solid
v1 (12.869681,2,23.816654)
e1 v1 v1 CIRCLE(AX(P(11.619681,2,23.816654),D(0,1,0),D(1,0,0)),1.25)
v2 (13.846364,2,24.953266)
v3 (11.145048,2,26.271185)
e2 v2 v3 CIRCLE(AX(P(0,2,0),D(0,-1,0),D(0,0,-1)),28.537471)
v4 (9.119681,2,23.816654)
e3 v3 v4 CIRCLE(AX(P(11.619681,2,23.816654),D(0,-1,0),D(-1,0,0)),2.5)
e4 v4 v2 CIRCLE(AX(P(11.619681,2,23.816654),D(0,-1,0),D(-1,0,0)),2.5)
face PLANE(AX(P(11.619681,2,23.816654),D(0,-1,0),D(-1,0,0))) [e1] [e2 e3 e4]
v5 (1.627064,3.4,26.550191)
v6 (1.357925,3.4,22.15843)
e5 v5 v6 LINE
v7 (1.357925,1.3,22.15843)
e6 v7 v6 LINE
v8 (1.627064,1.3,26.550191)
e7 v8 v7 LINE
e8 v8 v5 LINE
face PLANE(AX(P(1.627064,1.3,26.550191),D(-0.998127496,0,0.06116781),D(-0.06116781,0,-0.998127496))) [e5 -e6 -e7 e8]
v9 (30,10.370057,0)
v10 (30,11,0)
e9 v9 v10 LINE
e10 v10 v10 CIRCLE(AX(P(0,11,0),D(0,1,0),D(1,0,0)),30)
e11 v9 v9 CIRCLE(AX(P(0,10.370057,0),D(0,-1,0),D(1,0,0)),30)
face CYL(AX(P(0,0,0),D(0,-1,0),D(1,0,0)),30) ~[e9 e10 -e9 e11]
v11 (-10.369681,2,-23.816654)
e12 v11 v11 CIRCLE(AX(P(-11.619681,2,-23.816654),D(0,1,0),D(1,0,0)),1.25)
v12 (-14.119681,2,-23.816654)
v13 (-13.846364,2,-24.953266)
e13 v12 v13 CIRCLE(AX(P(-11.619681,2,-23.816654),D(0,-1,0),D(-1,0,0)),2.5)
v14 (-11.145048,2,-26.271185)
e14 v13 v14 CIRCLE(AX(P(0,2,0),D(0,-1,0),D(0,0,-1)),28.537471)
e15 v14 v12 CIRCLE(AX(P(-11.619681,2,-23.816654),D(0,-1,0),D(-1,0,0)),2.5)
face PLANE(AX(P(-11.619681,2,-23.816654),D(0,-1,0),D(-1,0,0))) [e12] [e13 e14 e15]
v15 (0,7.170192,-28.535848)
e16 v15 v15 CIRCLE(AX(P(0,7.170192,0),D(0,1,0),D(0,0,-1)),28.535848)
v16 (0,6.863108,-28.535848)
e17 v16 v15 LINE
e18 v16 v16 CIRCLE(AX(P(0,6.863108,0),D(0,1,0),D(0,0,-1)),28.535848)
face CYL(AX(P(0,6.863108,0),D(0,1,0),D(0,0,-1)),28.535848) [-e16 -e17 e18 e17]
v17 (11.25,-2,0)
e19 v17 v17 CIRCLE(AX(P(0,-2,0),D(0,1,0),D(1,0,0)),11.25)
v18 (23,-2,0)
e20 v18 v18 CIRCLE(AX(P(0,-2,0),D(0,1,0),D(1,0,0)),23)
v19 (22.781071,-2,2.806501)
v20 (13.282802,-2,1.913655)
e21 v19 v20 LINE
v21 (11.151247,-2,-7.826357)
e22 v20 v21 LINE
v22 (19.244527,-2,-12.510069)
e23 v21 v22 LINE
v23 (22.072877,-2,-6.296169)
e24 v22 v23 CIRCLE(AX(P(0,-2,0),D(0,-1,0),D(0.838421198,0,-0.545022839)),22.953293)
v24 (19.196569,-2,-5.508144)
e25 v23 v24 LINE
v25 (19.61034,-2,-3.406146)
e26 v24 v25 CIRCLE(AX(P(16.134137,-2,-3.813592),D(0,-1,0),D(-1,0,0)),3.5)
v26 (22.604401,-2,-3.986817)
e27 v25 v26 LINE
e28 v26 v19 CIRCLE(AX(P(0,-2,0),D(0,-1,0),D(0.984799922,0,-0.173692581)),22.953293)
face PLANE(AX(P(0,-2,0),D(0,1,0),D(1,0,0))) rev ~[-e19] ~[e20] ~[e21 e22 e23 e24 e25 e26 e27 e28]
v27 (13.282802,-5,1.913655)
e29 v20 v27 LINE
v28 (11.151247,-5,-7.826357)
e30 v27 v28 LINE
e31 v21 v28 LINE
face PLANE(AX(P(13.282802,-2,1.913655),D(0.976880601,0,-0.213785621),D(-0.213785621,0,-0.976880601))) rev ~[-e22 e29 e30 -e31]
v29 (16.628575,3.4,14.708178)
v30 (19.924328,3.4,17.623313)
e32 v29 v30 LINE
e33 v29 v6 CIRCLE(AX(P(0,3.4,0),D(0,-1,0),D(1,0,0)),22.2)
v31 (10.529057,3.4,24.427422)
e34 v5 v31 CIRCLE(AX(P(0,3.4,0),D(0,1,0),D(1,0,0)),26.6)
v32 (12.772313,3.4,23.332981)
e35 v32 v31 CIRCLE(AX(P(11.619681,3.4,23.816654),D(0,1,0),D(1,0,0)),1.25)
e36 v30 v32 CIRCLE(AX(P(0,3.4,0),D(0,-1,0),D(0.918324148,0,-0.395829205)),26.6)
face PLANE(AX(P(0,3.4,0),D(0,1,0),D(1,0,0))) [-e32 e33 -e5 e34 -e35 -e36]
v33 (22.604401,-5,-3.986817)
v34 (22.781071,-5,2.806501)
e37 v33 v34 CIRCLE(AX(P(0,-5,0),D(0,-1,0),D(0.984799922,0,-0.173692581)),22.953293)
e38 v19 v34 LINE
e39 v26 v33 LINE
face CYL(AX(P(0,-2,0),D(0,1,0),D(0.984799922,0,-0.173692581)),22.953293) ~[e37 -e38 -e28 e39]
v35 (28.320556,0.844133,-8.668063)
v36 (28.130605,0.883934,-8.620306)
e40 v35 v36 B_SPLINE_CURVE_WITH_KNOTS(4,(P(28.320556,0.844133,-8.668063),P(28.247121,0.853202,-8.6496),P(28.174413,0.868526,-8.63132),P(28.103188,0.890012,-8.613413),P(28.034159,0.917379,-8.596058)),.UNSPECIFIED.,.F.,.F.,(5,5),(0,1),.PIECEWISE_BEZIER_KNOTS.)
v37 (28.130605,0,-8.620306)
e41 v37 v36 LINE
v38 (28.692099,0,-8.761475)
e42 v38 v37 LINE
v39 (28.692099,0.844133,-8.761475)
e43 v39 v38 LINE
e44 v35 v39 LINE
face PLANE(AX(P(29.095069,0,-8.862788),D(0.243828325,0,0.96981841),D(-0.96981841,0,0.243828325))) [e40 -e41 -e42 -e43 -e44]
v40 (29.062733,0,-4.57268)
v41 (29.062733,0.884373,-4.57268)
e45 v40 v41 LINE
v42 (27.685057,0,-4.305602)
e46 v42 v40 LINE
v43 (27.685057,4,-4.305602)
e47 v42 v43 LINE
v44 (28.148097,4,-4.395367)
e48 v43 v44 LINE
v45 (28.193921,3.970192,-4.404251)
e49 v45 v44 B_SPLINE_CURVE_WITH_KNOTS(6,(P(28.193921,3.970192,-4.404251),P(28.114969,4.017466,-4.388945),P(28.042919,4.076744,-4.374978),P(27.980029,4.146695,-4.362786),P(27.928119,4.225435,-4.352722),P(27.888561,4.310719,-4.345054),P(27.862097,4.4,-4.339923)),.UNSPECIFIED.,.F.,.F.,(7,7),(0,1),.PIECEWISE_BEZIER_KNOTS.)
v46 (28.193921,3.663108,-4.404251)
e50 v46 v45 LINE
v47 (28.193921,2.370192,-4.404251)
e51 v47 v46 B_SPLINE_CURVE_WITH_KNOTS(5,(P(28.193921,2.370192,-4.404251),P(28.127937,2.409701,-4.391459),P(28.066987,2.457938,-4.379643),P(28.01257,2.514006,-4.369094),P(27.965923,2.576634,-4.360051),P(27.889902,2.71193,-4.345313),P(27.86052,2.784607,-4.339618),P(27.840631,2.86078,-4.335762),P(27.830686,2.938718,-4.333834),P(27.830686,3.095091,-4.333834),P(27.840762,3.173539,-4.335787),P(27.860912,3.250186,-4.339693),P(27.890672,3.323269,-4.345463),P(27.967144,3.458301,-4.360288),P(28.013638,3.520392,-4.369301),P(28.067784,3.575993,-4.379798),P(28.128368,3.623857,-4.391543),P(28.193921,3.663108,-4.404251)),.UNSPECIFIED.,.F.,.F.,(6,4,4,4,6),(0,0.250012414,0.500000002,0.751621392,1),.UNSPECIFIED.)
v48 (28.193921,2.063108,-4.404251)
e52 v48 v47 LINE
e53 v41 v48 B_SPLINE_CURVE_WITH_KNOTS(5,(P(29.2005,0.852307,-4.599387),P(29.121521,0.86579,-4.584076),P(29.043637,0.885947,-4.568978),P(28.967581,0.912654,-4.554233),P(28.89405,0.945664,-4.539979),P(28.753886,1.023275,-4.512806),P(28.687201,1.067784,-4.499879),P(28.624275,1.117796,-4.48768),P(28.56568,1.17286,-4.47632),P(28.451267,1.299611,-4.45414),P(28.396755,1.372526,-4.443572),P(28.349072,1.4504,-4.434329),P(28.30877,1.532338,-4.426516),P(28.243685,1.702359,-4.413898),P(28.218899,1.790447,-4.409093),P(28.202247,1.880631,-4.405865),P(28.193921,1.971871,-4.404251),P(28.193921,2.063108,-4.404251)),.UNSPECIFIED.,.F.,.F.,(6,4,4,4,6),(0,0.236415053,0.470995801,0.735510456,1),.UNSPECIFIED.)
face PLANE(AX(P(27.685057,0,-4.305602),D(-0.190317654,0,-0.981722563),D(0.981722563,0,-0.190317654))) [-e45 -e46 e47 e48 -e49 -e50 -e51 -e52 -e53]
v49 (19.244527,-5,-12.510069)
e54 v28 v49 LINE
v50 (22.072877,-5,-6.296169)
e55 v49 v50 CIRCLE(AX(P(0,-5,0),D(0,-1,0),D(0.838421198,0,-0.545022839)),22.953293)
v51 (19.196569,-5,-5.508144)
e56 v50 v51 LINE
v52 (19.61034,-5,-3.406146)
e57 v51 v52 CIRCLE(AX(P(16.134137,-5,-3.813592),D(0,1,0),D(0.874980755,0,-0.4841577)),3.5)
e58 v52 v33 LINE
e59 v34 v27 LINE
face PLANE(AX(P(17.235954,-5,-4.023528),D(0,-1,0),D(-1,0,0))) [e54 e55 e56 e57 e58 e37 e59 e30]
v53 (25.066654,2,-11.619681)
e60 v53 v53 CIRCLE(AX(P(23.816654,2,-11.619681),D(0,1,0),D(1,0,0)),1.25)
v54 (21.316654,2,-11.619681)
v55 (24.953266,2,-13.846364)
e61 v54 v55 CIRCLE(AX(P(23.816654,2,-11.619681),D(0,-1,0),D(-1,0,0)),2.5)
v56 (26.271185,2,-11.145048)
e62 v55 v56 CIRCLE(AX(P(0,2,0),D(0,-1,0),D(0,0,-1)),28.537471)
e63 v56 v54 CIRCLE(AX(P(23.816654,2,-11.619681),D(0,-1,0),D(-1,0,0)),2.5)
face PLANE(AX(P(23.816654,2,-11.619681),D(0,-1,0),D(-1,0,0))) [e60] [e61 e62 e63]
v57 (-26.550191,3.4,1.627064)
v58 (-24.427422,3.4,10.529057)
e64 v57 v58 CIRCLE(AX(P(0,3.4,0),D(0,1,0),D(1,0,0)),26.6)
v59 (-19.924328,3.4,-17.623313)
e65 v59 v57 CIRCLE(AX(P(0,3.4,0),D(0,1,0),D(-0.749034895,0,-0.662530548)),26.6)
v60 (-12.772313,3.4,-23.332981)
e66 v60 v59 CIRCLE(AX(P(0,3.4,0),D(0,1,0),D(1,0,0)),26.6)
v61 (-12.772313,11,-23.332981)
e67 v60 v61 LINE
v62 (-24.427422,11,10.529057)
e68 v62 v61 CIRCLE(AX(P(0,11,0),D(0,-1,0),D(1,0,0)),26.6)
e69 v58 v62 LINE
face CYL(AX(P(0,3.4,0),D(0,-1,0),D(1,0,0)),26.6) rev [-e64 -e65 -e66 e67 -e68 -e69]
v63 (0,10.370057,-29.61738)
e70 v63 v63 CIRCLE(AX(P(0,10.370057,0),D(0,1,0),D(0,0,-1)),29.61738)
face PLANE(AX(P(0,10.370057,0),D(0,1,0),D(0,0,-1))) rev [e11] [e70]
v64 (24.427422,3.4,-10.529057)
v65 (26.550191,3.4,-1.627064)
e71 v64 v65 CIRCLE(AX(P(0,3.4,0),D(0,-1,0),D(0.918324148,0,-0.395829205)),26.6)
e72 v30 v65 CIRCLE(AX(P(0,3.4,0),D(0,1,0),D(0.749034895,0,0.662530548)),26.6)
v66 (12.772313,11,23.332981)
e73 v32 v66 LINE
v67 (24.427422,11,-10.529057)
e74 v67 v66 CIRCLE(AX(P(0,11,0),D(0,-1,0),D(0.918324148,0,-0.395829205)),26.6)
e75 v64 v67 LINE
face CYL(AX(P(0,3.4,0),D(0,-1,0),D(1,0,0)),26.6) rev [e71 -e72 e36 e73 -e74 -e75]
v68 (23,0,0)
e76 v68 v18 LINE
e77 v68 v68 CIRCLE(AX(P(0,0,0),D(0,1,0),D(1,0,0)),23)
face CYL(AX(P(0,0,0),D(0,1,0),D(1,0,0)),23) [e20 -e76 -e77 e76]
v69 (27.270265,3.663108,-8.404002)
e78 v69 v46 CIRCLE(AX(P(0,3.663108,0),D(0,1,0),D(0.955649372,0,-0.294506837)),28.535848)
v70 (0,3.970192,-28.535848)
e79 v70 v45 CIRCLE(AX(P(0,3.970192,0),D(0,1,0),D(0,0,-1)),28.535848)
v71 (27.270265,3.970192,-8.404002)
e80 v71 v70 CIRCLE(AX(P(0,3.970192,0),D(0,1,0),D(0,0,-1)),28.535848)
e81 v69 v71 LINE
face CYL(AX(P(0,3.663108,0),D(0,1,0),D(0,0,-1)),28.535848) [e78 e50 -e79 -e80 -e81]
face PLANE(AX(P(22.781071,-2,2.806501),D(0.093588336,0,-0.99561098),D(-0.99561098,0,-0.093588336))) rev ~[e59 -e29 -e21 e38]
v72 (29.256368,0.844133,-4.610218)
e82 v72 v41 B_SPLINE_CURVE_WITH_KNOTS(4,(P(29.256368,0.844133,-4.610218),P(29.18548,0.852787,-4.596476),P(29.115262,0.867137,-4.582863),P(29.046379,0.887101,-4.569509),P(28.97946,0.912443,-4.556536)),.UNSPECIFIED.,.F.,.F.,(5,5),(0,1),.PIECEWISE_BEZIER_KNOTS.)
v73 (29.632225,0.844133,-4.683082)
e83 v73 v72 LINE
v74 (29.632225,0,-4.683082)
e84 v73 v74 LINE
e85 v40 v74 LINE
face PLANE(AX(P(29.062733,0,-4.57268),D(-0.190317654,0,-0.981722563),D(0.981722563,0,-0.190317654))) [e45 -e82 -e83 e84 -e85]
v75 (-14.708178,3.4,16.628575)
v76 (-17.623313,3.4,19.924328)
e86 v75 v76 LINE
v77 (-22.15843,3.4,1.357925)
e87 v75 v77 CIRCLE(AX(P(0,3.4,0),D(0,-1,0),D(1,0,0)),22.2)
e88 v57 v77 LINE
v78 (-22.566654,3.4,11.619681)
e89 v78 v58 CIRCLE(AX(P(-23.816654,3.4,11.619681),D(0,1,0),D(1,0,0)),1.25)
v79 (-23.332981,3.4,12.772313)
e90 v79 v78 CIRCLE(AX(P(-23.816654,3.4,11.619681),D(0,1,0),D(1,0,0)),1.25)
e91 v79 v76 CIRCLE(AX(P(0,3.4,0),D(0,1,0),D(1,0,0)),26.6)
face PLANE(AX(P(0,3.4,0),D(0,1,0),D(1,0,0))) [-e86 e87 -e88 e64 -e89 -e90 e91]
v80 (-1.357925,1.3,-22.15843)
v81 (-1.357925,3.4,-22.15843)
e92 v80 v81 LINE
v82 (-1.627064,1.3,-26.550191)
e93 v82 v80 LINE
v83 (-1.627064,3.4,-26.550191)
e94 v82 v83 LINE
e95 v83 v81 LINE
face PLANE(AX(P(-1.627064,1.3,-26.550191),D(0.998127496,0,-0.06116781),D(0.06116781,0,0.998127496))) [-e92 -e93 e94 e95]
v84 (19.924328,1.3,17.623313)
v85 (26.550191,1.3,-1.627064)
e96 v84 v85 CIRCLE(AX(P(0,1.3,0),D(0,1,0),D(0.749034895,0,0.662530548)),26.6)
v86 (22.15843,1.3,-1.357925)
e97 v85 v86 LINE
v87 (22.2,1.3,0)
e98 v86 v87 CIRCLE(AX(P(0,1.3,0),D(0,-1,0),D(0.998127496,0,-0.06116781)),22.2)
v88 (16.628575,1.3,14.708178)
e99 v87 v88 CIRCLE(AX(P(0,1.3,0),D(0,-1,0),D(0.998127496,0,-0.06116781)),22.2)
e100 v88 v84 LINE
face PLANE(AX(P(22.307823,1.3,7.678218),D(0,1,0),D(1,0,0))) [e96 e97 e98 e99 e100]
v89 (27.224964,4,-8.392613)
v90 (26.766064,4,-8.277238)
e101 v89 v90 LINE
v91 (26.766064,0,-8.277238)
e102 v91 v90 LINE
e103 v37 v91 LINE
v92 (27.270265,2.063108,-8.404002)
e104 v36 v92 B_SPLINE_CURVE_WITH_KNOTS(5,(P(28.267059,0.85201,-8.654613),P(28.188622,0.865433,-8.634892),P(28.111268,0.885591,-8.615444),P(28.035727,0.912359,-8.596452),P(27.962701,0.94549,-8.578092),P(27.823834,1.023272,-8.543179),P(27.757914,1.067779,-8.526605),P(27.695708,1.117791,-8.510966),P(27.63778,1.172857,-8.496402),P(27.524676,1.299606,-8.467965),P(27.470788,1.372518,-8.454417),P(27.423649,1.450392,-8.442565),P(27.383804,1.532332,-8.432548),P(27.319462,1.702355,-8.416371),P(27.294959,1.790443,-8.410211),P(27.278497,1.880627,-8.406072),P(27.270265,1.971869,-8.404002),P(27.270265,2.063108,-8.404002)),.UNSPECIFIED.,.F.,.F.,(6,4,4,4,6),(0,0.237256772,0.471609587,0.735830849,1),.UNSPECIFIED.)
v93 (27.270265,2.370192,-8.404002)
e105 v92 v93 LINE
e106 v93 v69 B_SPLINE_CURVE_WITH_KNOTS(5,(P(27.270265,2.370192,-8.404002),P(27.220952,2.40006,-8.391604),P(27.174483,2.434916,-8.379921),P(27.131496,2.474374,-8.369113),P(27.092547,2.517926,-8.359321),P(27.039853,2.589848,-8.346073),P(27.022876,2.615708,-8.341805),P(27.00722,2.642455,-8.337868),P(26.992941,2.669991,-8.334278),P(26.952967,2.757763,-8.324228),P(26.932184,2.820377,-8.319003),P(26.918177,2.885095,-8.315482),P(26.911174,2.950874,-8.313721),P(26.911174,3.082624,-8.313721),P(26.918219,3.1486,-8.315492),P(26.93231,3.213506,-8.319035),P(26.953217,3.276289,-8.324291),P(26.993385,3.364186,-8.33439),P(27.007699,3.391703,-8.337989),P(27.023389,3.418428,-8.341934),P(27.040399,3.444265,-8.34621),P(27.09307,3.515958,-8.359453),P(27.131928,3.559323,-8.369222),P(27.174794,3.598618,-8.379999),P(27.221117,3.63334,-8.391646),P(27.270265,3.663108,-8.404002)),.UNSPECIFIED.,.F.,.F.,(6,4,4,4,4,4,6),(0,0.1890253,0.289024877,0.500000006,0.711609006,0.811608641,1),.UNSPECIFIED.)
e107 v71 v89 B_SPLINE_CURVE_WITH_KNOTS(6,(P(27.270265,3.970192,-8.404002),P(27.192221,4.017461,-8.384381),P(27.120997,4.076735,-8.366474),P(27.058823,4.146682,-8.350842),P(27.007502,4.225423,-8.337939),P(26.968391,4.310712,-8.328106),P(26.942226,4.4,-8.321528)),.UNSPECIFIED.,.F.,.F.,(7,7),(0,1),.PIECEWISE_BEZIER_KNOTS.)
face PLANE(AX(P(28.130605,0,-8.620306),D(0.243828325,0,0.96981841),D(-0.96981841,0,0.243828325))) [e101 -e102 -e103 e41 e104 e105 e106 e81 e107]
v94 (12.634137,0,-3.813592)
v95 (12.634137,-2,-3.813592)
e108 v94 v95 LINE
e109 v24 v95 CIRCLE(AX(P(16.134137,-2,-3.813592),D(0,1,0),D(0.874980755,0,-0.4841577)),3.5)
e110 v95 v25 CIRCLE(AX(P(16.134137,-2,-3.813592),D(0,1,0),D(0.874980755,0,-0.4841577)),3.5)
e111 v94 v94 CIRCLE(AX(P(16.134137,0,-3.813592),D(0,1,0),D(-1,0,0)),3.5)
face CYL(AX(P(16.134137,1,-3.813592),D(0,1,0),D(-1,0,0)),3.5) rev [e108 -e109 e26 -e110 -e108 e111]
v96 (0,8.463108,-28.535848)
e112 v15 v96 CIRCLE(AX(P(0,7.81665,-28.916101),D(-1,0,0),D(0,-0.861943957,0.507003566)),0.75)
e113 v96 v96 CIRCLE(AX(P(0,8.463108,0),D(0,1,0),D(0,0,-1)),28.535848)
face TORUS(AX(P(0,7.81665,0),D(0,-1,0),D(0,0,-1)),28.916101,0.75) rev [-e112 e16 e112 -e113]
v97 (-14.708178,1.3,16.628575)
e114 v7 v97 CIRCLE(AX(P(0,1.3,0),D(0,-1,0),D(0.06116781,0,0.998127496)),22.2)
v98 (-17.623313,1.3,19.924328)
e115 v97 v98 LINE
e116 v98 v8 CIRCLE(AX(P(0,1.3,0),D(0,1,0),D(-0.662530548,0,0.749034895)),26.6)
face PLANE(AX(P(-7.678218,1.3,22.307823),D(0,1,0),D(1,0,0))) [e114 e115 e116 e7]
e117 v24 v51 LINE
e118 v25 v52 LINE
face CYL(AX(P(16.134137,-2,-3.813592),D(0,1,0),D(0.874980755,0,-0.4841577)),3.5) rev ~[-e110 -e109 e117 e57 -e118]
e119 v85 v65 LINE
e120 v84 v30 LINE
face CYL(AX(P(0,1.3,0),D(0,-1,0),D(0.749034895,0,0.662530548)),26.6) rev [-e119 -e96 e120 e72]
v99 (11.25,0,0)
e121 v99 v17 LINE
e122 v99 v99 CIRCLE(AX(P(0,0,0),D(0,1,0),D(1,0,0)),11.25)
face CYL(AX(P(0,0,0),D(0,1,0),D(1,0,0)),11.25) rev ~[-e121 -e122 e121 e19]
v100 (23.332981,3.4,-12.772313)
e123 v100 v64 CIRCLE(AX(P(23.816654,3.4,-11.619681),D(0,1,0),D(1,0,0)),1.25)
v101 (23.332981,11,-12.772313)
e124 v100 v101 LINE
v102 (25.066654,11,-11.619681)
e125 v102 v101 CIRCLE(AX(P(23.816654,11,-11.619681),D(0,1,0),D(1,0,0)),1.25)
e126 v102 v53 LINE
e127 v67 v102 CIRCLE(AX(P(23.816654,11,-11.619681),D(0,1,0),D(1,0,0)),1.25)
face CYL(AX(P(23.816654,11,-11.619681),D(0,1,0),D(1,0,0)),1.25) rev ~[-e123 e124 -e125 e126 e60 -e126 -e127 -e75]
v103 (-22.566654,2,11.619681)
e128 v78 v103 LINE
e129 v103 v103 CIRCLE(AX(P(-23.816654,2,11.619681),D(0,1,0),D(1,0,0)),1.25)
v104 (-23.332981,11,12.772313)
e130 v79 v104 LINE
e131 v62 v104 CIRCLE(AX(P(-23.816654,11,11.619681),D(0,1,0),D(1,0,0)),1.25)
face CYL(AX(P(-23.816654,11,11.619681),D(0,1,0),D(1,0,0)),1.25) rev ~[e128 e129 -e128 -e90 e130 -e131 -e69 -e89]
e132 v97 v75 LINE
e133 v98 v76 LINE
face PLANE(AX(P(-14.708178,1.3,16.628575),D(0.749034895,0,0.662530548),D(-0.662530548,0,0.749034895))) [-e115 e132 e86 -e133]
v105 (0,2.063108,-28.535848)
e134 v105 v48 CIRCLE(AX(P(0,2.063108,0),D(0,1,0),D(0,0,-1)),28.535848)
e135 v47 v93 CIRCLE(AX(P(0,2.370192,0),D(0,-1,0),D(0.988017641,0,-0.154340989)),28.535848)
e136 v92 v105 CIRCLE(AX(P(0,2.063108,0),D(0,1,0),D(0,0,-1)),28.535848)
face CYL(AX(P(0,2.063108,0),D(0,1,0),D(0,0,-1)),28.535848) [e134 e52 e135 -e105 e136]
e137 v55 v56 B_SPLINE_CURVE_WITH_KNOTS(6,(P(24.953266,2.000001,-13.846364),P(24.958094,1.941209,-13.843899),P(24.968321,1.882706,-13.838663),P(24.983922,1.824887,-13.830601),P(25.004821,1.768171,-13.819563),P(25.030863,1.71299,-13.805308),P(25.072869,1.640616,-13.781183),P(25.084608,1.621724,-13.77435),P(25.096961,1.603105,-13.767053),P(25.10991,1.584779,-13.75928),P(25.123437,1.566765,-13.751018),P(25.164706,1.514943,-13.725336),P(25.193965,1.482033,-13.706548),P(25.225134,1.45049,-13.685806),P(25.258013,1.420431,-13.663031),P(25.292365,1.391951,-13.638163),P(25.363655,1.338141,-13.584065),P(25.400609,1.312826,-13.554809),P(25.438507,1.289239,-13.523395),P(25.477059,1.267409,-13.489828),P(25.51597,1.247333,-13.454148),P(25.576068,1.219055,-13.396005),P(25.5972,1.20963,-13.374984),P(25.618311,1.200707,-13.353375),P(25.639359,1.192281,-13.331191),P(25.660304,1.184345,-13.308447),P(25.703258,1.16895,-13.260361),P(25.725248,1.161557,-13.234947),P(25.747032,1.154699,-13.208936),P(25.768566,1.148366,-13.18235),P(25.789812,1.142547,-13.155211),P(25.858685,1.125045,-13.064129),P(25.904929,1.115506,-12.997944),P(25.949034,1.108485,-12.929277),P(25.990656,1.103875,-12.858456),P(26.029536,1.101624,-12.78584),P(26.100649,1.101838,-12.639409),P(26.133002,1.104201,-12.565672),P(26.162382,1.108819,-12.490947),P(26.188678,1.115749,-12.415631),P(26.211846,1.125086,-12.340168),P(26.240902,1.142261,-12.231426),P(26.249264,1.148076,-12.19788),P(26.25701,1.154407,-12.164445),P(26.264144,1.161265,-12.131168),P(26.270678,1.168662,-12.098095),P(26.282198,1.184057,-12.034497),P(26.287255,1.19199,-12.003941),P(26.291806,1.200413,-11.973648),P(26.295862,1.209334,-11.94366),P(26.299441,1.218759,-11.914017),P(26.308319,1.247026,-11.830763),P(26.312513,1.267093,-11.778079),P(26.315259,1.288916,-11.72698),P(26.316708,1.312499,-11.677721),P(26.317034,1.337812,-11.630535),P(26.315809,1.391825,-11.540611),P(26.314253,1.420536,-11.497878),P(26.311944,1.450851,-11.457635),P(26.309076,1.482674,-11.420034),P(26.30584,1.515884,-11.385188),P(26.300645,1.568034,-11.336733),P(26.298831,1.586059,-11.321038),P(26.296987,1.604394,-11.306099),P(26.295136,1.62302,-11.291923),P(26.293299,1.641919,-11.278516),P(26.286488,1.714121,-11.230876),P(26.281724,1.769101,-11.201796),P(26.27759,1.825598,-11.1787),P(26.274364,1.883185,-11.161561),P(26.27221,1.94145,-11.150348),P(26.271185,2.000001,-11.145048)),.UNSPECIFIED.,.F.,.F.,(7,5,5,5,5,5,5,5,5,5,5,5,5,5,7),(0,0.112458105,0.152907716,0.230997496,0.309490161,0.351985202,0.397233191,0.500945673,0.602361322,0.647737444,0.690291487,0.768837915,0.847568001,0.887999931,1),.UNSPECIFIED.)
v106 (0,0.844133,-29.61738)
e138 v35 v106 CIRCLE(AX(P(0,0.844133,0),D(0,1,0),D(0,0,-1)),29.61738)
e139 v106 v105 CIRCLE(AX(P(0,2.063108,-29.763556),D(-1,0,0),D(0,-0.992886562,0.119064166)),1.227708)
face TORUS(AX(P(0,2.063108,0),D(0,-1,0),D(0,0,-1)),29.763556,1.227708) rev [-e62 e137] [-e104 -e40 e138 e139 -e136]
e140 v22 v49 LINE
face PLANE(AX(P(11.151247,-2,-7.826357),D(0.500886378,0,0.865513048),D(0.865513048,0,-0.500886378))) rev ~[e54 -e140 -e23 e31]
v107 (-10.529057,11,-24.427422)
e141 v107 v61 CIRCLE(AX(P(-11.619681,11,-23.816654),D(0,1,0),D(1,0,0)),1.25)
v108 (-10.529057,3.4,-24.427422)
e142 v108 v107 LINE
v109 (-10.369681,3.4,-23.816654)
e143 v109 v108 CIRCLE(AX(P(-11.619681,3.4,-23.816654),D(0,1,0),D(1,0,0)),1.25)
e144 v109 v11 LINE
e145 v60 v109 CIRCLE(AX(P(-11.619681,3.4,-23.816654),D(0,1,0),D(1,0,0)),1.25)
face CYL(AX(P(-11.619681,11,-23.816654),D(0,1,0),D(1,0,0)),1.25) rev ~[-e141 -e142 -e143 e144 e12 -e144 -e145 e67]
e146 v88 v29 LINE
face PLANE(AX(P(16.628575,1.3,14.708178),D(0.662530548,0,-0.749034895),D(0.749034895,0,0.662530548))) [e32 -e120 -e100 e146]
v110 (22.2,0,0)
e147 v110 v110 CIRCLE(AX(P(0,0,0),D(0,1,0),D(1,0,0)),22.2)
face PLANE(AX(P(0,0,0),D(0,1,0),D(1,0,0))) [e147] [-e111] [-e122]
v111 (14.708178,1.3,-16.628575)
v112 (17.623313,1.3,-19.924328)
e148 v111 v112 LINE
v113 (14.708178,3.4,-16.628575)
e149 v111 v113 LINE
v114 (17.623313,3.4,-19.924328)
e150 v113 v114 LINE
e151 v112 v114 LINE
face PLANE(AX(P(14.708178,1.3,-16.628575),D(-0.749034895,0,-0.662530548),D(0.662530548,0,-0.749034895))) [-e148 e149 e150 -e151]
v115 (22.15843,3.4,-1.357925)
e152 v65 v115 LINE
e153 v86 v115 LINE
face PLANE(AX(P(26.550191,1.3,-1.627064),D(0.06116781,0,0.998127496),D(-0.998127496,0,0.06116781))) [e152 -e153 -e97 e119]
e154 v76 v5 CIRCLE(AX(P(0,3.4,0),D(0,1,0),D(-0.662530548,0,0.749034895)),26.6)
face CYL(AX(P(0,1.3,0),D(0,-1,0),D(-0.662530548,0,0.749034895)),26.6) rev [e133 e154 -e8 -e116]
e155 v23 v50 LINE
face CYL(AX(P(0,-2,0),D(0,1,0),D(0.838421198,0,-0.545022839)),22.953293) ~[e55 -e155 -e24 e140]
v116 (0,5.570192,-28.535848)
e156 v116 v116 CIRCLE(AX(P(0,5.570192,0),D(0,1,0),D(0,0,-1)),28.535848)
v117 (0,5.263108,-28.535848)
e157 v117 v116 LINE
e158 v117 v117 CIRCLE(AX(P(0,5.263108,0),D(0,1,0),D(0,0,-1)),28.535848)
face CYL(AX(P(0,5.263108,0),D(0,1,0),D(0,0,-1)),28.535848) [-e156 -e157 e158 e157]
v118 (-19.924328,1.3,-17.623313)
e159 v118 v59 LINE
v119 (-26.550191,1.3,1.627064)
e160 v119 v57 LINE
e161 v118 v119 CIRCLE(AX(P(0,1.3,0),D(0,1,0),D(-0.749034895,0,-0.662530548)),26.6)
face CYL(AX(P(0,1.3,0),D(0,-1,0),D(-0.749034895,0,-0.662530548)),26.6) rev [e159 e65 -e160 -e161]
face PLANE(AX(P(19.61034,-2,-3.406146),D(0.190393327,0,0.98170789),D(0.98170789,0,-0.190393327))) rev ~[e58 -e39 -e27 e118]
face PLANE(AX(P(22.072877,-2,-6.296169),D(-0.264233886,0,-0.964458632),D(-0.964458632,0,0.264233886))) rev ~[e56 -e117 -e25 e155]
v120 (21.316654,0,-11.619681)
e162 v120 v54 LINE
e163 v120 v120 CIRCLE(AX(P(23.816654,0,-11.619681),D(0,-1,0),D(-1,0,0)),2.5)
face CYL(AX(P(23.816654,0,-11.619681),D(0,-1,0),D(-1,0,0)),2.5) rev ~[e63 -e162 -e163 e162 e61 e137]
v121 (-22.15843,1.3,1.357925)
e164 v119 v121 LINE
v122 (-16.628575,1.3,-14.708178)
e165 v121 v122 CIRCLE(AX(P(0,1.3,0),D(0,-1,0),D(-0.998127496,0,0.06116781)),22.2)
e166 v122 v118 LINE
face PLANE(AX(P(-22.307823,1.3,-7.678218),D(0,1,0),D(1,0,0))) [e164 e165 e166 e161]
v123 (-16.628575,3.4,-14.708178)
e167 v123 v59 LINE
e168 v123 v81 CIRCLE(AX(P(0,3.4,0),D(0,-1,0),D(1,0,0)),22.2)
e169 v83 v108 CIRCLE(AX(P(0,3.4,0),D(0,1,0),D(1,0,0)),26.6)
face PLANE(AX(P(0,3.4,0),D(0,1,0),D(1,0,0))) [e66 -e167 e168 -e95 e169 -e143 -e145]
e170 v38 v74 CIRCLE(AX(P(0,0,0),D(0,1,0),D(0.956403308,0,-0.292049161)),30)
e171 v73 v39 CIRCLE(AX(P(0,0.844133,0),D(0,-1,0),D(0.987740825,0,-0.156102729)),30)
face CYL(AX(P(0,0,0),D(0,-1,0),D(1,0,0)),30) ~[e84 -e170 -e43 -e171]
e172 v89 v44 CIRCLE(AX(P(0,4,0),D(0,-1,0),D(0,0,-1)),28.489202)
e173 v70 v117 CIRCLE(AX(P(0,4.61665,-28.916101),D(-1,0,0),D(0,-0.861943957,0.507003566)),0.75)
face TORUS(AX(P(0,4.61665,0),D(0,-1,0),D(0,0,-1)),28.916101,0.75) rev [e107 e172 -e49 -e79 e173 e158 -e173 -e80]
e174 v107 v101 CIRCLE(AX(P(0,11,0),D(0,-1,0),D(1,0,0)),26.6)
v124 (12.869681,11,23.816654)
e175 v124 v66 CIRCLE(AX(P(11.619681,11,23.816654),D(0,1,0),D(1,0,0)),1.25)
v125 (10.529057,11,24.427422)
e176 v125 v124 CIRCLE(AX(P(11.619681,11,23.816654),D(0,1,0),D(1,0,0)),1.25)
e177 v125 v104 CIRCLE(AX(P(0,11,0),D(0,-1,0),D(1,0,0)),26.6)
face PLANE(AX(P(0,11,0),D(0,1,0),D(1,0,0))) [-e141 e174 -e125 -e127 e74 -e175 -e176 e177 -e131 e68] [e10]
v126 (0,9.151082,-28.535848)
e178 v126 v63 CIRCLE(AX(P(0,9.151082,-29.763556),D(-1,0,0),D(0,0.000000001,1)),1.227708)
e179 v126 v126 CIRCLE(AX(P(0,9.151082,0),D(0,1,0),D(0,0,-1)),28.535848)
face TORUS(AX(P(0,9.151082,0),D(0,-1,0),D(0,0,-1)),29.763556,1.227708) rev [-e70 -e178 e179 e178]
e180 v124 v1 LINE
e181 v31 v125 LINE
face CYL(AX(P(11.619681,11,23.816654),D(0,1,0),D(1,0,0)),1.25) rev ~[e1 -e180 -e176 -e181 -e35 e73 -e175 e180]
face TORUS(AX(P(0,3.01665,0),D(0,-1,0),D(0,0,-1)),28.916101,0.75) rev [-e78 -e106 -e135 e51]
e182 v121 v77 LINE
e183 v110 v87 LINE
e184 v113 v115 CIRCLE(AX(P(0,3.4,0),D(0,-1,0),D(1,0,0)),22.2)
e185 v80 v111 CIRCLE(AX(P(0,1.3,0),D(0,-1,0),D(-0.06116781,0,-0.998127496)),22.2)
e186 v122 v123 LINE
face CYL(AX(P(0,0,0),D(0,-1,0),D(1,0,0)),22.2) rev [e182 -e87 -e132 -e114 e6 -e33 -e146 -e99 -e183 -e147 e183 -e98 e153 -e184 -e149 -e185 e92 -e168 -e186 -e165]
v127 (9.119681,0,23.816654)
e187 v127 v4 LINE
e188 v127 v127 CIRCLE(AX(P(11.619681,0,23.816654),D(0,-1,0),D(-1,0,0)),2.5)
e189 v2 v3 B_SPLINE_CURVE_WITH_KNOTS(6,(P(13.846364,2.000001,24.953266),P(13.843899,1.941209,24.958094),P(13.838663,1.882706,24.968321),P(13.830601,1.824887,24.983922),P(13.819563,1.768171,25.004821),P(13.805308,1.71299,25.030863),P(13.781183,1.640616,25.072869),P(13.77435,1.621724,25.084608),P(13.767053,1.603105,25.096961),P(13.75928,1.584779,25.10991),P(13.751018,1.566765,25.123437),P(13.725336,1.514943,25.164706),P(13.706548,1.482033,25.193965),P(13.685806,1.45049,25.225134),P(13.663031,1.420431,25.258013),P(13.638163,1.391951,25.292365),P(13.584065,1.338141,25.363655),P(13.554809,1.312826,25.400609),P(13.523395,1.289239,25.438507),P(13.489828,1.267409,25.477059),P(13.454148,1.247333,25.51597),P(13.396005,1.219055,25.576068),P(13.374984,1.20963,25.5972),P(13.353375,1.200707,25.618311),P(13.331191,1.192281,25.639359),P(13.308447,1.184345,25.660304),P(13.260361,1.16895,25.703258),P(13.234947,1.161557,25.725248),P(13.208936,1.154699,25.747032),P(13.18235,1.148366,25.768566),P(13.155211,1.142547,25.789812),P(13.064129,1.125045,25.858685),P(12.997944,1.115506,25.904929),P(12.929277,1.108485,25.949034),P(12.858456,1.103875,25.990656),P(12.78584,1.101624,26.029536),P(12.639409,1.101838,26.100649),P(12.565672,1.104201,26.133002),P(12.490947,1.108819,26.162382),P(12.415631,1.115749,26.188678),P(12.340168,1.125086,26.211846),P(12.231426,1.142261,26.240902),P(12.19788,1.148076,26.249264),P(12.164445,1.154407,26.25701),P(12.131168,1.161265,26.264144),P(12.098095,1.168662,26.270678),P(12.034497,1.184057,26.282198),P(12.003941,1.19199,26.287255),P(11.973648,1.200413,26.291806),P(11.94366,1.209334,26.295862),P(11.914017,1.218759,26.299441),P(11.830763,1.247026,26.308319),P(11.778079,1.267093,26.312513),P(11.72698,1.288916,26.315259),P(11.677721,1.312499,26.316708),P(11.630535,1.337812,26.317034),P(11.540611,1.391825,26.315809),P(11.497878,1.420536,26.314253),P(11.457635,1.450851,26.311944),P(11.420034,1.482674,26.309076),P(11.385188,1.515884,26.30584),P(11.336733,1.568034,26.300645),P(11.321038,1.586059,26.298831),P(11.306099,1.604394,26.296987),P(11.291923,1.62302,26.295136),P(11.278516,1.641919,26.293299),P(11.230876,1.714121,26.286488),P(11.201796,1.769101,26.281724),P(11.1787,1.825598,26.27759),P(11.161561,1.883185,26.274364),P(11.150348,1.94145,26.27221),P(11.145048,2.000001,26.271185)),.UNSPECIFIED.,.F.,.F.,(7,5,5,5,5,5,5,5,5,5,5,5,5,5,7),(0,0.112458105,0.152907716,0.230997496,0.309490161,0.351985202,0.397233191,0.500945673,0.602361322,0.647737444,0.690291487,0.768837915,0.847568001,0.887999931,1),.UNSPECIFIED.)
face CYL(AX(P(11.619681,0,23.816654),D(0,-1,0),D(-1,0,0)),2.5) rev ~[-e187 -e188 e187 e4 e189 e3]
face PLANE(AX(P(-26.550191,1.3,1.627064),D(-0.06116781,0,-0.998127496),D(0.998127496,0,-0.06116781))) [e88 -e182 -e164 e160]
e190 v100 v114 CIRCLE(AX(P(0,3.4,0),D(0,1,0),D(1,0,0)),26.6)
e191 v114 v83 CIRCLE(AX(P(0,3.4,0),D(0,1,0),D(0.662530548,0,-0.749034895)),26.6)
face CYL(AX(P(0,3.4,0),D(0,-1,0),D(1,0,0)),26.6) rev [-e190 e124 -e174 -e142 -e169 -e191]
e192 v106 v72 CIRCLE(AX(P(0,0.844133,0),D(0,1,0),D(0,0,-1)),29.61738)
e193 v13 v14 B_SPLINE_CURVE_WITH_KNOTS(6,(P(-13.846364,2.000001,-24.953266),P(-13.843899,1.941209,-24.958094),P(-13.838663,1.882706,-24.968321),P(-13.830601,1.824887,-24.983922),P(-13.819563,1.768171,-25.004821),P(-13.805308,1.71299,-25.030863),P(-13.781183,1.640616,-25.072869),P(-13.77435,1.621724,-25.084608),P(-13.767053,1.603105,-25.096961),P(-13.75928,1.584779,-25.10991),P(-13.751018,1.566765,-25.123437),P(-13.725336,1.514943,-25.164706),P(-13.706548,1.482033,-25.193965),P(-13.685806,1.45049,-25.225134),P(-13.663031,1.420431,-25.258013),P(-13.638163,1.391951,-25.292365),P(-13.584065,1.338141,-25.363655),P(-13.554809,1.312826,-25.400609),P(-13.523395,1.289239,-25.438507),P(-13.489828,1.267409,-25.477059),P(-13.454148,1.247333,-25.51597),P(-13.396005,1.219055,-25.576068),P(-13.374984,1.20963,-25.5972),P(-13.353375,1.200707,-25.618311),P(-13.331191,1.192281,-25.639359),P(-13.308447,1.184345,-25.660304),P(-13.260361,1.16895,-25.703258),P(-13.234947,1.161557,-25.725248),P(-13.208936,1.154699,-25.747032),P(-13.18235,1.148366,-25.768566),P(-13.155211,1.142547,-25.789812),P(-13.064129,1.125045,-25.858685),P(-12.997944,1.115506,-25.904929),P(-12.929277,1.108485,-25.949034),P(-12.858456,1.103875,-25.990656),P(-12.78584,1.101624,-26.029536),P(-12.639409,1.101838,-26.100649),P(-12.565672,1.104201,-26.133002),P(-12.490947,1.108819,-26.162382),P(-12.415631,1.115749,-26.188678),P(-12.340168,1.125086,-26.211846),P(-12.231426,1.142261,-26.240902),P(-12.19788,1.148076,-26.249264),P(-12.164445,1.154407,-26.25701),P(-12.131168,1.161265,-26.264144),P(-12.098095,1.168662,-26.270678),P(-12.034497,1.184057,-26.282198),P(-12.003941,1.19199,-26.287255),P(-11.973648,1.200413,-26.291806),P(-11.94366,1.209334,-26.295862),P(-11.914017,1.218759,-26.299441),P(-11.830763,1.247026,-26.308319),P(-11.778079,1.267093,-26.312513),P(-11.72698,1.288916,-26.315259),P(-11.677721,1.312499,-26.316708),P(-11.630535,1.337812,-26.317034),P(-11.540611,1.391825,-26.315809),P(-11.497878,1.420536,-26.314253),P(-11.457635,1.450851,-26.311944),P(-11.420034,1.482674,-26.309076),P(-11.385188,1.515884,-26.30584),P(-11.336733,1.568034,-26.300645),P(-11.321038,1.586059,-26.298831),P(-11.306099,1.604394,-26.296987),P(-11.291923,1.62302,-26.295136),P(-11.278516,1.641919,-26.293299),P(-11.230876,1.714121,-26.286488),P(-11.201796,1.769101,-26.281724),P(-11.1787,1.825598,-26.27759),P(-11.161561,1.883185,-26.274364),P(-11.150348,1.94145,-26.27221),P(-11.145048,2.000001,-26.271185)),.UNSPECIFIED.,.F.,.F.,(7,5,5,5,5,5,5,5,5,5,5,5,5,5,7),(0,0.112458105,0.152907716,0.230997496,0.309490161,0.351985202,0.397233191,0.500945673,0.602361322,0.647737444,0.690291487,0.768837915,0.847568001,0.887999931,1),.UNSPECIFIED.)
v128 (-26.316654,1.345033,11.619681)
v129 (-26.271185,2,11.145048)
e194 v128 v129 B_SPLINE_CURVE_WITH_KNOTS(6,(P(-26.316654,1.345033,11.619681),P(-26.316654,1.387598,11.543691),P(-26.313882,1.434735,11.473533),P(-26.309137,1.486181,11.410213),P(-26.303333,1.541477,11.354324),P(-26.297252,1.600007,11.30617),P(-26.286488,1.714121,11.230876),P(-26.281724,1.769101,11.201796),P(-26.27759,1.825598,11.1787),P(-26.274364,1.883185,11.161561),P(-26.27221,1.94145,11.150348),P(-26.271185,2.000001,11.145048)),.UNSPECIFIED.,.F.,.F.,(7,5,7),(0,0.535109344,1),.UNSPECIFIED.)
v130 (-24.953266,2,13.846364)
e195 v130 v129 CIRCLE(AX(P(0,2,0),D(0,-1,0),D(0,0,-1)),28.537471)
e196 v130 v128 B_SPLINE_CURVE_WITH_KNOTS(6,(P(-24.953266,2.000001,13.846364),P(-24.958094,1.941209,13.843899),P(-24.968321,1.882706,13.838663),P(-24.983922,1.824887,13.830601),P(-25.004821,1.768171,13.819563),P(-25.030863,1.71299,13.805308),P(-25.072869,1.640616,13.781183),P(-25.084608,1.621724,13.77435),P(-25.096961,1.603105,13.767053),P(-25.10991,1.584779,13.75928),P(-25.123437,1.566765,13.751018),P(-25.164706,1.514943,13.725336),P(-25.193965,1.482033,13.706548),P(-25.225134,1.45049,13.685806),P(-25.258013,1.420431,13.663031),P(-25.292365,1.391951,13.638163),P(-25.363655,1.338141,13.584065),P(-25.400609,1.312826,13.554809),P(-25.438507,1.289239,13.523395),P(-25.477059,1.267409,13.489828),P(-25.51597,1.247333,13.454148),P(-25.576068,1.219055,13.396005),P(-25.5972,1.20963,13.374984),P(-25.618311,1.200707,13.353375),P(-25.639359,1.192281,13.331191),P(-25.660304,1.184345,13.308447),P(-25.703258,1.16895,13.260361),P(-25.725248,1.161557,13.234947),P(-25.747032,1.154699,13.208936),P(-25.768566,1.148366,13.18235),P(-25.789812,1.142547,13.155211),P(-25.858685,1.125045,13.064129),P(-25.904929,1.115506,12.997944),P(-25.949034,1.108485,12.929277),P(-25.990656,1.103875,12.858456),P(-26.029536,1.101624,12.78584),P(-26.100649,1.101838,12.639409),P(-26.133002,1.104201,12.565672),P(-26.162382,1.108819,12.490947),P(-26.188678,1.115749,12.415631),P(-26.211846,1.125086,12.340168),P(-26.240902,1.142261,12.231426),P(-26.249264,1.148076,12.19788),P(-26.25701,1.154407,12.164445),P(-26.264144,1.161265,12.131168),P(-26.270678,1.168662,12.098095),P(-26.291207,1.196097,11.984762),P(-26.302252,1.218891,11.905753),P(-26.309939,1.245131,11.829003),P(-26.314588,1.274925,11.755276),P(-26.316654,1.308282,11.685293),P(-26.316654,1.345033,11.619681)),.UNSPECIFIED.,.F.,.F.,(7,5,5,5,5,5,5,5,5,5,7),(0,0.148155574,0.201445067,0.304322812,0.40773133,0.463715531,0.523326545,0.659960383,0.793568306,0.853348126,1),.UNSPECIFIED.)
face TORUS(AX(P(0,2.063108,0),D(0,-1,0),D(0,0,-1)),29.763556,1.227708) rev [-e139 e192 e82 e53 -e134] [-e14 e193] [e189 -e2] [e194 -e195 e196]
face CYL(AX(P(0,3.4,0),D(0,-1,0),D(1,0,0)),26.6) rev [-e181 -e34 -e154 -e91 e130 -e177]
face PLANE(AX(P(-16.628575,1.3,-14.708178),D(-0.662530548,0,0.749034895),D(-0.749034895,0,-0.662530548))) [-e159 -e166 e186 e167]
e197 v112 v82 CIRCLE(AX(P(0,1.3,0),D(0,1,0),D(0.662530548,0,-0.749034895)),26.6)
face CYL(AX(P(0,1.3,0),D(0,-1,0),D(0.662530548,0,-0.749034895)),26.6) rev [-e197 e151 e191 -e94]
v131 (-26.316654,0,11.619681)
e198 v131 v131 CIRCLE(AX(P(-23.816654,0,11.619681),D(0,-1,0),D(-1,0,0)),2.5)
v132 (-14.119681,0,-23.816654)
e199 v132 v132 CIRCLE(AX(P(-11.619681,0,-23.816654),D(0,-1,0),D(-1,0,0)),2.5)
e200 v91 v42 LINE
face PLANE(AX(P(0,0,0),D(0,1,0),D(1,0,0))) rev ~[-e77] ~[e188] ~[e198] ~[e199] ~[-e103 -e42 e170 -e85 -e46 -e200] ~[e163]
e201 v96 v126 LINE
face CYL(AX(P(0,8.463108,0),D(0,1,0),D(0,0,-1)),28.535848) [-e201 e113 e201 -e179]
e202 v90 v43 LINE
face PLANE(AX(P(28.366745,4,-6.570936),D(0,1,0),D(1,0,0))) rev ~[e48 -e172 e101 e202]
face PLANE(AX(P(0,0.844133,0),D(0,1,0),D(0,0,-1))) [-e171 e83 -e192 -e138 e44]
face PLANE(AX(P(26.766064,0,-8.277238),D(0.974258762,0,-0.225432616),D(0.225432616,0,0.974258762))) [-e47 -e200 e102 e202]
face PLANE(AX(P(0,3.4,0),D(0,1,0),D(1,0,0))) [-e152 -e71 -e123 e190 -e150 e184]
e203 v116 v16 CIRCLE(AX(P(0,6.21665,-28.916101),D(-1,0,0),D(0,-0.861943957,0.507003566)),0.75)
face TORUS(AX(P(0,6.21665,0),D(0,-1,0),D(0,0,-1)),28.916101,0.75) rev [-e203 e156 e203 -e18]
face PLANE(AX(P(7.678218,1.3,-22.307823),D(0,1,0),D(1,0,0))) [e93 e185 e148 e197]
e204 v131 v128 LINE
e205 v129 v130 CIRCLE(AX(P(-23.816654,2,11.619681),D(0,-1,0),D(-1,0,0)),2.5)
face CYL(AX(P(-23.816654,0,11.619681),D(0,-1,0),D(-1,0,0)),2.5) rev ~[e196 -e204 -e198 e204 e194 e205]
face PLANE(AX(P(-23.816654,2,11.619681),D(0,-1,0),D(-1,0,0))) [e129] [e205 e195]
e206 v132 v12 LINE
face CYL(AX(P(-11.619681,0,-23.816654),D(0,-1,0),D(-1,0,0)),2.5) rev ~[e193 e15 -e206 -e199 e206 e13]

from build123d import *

# Parameters (mm, degrees)
SKETCH1_R                = 23
BOSS_EXTRUDE1_DEPTH      = 2
SKETCH2_R                = 30
SKETCH2_R_2              = 22.2
BOSS_EXTRUDE2_DEPTH      = 11
SKETCH3_R                = 11.25
CUT_EXTRUDE1_DEPTH       = 10
CUT_EXTRUDE8_DEPTH       = 5.5
SKETCH5_R                = 1.25
CUT_EXTRUDE3_DEPTH       = 45.373415465
SKETCH8_R                = 2.5
CUT_EXTRUDE5_DEPTH       = 2
BOSS_EXTRUDE3_DEPTH      = 3
CUT_EXTRUDE9_START       = -3
SKETCH13_R               = 3.5
CUT_EXTRUDE9_DEPTH       = 3
CUT_EXTRUDE10_DEPTH      = 4
CUT_EXTRUDE11_DEPTH      = 10
CUT_EXTRUDE11_DEPTH_BACK = 2.1
SKETCH16_R               = 26.6
CUT_EXTRUDE12_START      = -2.1
CUT_EXTRUDE12_DEPTH      = 2.1


with BuildPart() as part:
    # Sketch1 → Boss-Extrude1 (new body)
    with BuildSketch(Plane(origin=(0, 0, 0), x_dir=(1, 0, 0), z_dir=(0, 1, 0))):
        Circle(SKETCH1_R)
    extrude(amount=-BOSS_EXTRUDE1_DEPTH)

    # Sketch2 → Boss-Extrude2 (add)
    with BuildSketch(Plane(origin=(0, 0, 0), x_dir=(1, 0, 0), z_dir=(0, 1, 0))):
        Circle(SKETCH2_R)
        Circle(SKETCH2_R_2, mode=Mode.SUBTRACT)
    extrude(amount=BOSS_EXTRUDE2_DEPTH)

    # Sketch3 → Cut-Extrude1 (cut)
    with BuildSketch(Plane(origin=(0, 0, 0), x_dir=(1, 0, 0), z_dir=(0, 1, 0))):
        Circle(SKETCH3_R)
    extrude(amount=-CUT_EXTRUDE1_DEPTH, mode=Mode.SUBTRACT)

    # Sketch10 → Cut-Extrude8 (cut)
    with BuildSketch(Plane(origin=(0, 11, 0), x_dir=(1, 0, 0), z_dir=(0, 1, 0))):
        Polygon((8.200315972, -23.949003355), (8.095646912, -20.796423541), (10.150000757, -23.190028641), (9.785351218, -20.056859988), (12.030350745, -22.272642516), (11.408211652, -19.180287743), (13.828521239, -21.20311166), (12.953142433, -18.172694685), (15.532228911, -19.988742051), (14.409590117, -17.040963696), (17.12983571, -18.637829065), (15.76760569, -15.792825644), (18.610428362, -17.159600809), (17.017912527, -14.43680658), (19.963892917, -15.564155079), (18.151969766, -12.982169489), (21.18098384, -13.862390389), (19.162030646, -11.438851016), (22.253387167, -12.065931515), (20.041195426, -9.817393592), (23.173777294, -10.187050095), (20.78345852, -8.128873414), (23.935867025, -8.238580793), (21.383749518, -6.384824789), (24.534450513, -6.233833631), (21.837967824, -4.597161336), (24.965438827, -4.186503063), (22.143010666, -2.77809461), (25.225887879, -2.110574435), (22.296794293, -0.940050681), (25.314018538, -0.020228443), (22.298268206, 0.904414747), (25.229228782, 2.070255729), (22.147422337, 2.742702106), (24.972097812, 4.146597956), (21.845287117, 4.562254028), (24.544382092, 6.194614714), (21.393926434, 6.350641129), (23.949003355, 8.200315972), (20.796423541, 8.095646912), (23.190028641, 10.150000757), (20.056859988, 9.785351218), (22.272642516, 12.030350745), (19.180287743, 11.408211652), (21.20311166, 13.828521239), (18.172694685, 12.953142433), (19.988742051, 15.532228911), (17.040963696, 14.409590117), (18.637829065, 17.12983571), (15.792825644, 15.76760569), (17.159600809, 18.610428362), (14.43680658, 17.017912527), (15.564155079, 19.963892917), (12.982169489, 18.151969766), (13.862390389, 21.18098384), (11.438851016, 19.162030646), (12.065931515, 22.253387167), (9.817393592, 20.041195426), (10.187050095, 23.173777294), (8.128873414, 20.78345852), (8.238580793, 23.935867025), (6.384824789, 21.383749518), (6.233833631, 24.534450513), (4.597161336, 21.837967824), (4.186503063, 24.965438827), (2.77809461, 22.143010666), (2.110574435, 25.225887879), (0.940050681, 22.296794293), (0.020228443, 25.314018538), (-0.904414747, 22.298268206), (-2.070255729, 25.229228782), (-2.742702106, 22.147422337), (-4.146597956, 24.972097812), (-4.562254028, 21.845287117), (-6.194614714, 24.544382092), (-6.350641129, 21.393926434), (-8.200315972, 23.949003355), (-8.095646912, 20.796423541), (-10.150000757, 23.190028641), (-9.785351218, 20.056859988), (-12.030350745, 22.272642516), (-11.408211652, 19.180287743), (-13.828521239, 21.20311166), (-12.953142433, 18.172694685), (-15.532228911, 19.988742051), (-14.409590117, 17.040963696), (-17.12983571, 18.637829065), (-15.76760569, 15.792825644), (-18.610428362, 17.159600809), (-17.017912527, 14.43680658), (-19.963892917, 15.564155079), (-18.151969766, 12.982169489), (-21.18098384, 13.862390389), (-19.162030646, 11.438851016), (-22.253387167, 12.065931515), (-20.041195426, 9.817393592), (-23.173777294, 10.187050095), (-20.78345852, 8.128873414), (-23.935867025, 8.238580793), (-21.383749518, 6.384824789), (-24.534450513, 6.233833631), (-21.837967824, 4.597161336), (-24.965438827, 4.186503063), (-22.143010666, 2.77809461), (-25.225887879, 2.110574435), (-22.296794293, 0.940050681), (-25.314018538, 0.020228443), (-22.298268206, -0.904414747), (-25.229228782, -2.070255729), (-22.147422337, -2.742702106), (-24.972097812, -4.146597956), (-21.845287117, -4.562254028), (-24.544382092, -6.194614714), (-21.393926434, -6.350641129), (-23.949003355, -8.200315972), (-20.796423541, -8.095646912), (-23.190028641, -10.150000757), (-20.056859988, -9.785351218), (-22.272642516, -12.030350745), (-19.180287743, -11.408211652), (-21.20311166, -13.828521239), (-18.172694685, -12.953142433), (-19.988742051, -15.532228911), (-17.040963696, -14.409590118), (-18.637829065, -17.12983571), (-15.792825644, -15.76760569), (-17.159600809, -18.610428362), (-14.43680658, -17.017912527), (-15.564155079, -19.963892917), (-12.982169489, -18.151969766), (-13.862390389, -21.18098384), (-11.438851016, -19.162030646), (-12.065931515, -22.253387167), (-9.817393592, -20.041195426), (-10.187050095, -23.173777294), (-8.128873414, -20.78345852), (-8.238580793, -23.935867025), (-6.384824789, -21.383749518), (-6.233833631, -24.534450513), (-4.597161336, -21.837967824), (-4.186503063, -24.965438827), (-2.77809461, -22.143010666), (-2.110574435, -25.225887879), (-0.940050681, -22.296794293), (-0.020228443, -25.314018538), (0.904414747, -22.298268206), (2.070255729, -25.229228782), (2.742702106, -22.147422337), (4.146597956, -24.972097812), (4.562254028, -21.845287117), (6.194614714, -24.544382092), (6.350641129, -21.393926434), align=None)
    extrude(amount=-CUT_EXTRUDE8_DEPTH, mode=Mode.SUBTRACT)

    # Sketch5 → Cut-Extrude3 (cut, through all)
    with BuildSketch(Plane(origin=(0, 11, 0), x_dir=(1, 0, 0), z_dir=(0, 1, 0))):
        with Locations((23.816653914, 11.619681422)):
            Circle(SKETCH5_R)
        with Locations((11.619681422, -23.816653914)):
            Circle(SKETCH5_R)
        with Locations((-23.816653914, -11.619681422)):
            Circle(SKETCH5_R)
        with Locations((-11.619681422, 23.816653914)):
            Circle(SKETCH5_R)
    extrude(amount=-CUT_EXTRUDE3_DEPTH, mode=Mode.SUBTRACT)

    # Sketch8 → Cut-Extrude5 (cut)
    with BuildSketch(Plane(origin=(0, 0, 0), x_dir=(-1, 0, 0), z_dir=(0, -1, 0))):
        with Locations((-23.816653914, 11.619681422)):
            Circle(SKETCH8_R)
        with Locations((11.619681422, 23.816653914)):
            Circle(SKETCH8_R)
        with Locations((23.816653914, -11.619681422)):
            Circle(SKETCH8_R)
        with Locations((-11.619681422, -23.816653914)):
            Circle(SKETCH8_R)
    extrude(amount=-CUT_EXTRUDE5_DEPTH, mode=Mode.SUBTRACT)

    # Sketch6 → Cut-Revolve1 (revolve, cut)
    with BuildSketch(Plane(origin=(0, 0, 0), x_dir=(0, 0, -1), z_dir=(1, 0, 0))):
        with BuildLine():
            Line((29.617379965, 10.370057221), (30.175990194, 10.370057221))
            Line((30.175990194, 10.370057221), (30.175990194, 0.844133137))
            Line((30.175990194, 0.844133137), (29.617379965, 0.844133137))
            ThreePointArc((29.617379965, 0.844133137), (28.845207332, 1.248305666), (28.535847949, 2.063107961))
            Line((28.535847949, 2.063107961), (28.535847949, 2.370192025))
            ThreePointArc((28.535847949, 2.370192025), (28.166100623, 3.016649993), (28.535847949, 3.663107961))
            Line((28.535847949, 3.663107961), (28.535847949, 3.970192025))
            ThreePointArc((28.535847949, 3.970192025), (28.166100623, 4.616649993), (28.535847949, 5.263107961))
            Line((28.535847949, 5.263107961), (28.535847949, 5.570192025))
            ThreePointArc((28.535847949, 5.570192025), (28.166100623, 6.216649993), (28.535847949, 6.863107961))
            Line((28.535847949, 6.863107961), (28.535847949, 7.170192025))
            ThreePointArc((28.535847949, 7.170192025), (28.166100623, 7.816649993), (28.535847949, 8.463107961))
            Line((28.535847949, 8.463107961), (28.535847949, 8.770192025))
            Line((28.535847949, 8.770192025), (28.535847949, 9.151082397))
            ThreePointArc((28.535847949, 9.151082397), (28.845207332, 9.965884692), (29.617379965, 10.370057221))
        make_face()
    revolve(axis=Axis((0, -2, 0), (0, 1, 0)), mode=Mode.SUBTRACT)

    # Sketch12 → Boss-Extrude3 (add)
    with BuildSketch(Plane(origin=(0, -2, 0), x_dir=(-1, 0, 0), z_dir=(0, -1, 0))):
        with BuildLine():
            ThreePointArc((-19.196569326, 5.50814394), (-12.700037344, 3.137602549), (-19.610339715, 3.406145686))
            Line((-19.610339715, 3.406145686), (-22.604401204, 3.986816711))
            ThreePointArc((-22.604401204, 3.986816711), (-22.945534904, 0.596732148), (-22.781071358, -2.806501209))
            Line((-22.781071358, -2.806501209), (-13.282801681, -1.913655237))
            Line((-13.282801681, -1.913655237), (-11.151246895, 7.8263568))
            Line((-11.151246895, 7.8263568), (-19.244527438, 12.510068943))
            ThreePointArc((-19.244527438, 12.510068943), (-20.891029647, 9.50886647), (-22.072877276, 6.296169473))
            Line((-22.072877276, 6.296169473), (-19.196569326, 5.50814394))
        make_face()
    extrude(amount=BOSS_EXTRUDE3_DEPTH)

    # Sketch13 → Cut-Extrude9 (cut)
    with BuildSketch(Plane(origin=(0, -2, 0), x_dir=(-1, 0, 0), z_dir=(0, -1, 0)).offset(CUT_EXTRUDE9_START)):
        with Locations((-16.134136684, 3.813591988)):
            Circle(SKETCH13_R)
    extrude(amount=CUT_EXTRUDE9_DEPTH, mode=Mode.SUBTRACT)

    # Sketch15 → Cut-Extrude10 (cut)
    with BuildSketch(Plane(origin=(0, 0, 0), x_dir=(-1, 0, 0), z_dir=(0, -1, 0))):
        Polygon((-27.685056753, 4.305602049), (-29.062732762, 4.572679608), (-29.895458244, 4.734112549), (-29.095069333, 8.862788139), (-28.130605106, 8.620305944), (-26.766064483, 8.277237952), align=None)
    extrude(amount=-CUT_EXTRUDE10_DEPTH, mode=Mode.SUBTRACT)

    # Sketch16 → Cut-Extrude11 (cut, two sides: drawn at the far end of the back side and taken through both)
    with BuildSketch(Plane(origin=(0, 5.5, 0), x_dir=(1, 0, 0), z_dir=(0, 1, 0)).offset(-CUT_EXTRUDE11_DEPTH_BACK)):
        Circle(SKETCH16_R)
    extrude(amount=CUT_EXTRUDE11_DEPTH + CUT_EXTRUDE11_DEPTH_BACK, mode=Mode.SUBTRACT)

    # Sketch17 → Cut-Extrude12 (cut)
    with BuildSketch(Plane(origin=(0, 3.4, 0), x_dir=(1, 0, 0), z_dir=(0, 1, 0)).offset(CUT_EXTRUDE12_START)):
        with BuildLine():
            ThreePointArc((17.623312569, 19.924328197), (8.657107476, 25.151828764), (-1.627063754, 26.550191403))
            Line((-1.627063754, 26.550191403), (-1.357925388, 22.158430419))
            ThreePointArc((-1.357925388, 22.158430419), (7.225104736, 20.991375885), (14.708178159, 16.62857466))
            Line((14.708178159, 16.62857466), (17.623312569, 19.924328197))
        make_face()
        with BuildLine():
            ThreePointArc((-22.158430419, -1.357925388), (-20.991375885, 7.225104736), (-16.62857466, 14.708178159))
            Line((-16.62857466, 14.708178159), (-19.924328197, 17.623312569))
            ThreePointArc((-19.924328197, 17.623312569), (-25.151828764, 8.657107476), (-26.550191403, -1.627063754))
            Line((-26.550191403, -1.627063754), (-22.158430419, -1.357925388))
        make_face()
        with BuildLine():
            Line((26.550191403, 1.627063754), (22.158430419, 1.357925388))
            ThreePointArc((22.158430419, 1.357925388), (20.991375885, -7.225104736), (16.62857466, -14.708178159))
            Line((16.62857466, -14.708178159), (19.924328197, -17.623312569))
            ThreePointArc((19.924328197, -17.623312569), (25.151828764, -8.657107476), (26.550191403, 1.627063754))
        make_face()
        with BuildLine():
            ThreePointArc((1.357925388, -22.158430419), (-7.225104736, -20.991375885), (-14.708178159, -16.62857466))
            Line((-14.708178159, -16.62857466), (-17.623312569, -19.924328197))
            ThreePointArc((-17.623312569, -19.924328197), (-8.657107476, -25.151828764), (1.627063754, -26.550191403))
            Line((1.627063754, -26.550191403), (1.357925388, -22.158430419))
        make_face()
    extrude(amount=CUT_EXTRUDE12_DEPTH, mode=Mode.SUBTRACT)


solid = part.part
